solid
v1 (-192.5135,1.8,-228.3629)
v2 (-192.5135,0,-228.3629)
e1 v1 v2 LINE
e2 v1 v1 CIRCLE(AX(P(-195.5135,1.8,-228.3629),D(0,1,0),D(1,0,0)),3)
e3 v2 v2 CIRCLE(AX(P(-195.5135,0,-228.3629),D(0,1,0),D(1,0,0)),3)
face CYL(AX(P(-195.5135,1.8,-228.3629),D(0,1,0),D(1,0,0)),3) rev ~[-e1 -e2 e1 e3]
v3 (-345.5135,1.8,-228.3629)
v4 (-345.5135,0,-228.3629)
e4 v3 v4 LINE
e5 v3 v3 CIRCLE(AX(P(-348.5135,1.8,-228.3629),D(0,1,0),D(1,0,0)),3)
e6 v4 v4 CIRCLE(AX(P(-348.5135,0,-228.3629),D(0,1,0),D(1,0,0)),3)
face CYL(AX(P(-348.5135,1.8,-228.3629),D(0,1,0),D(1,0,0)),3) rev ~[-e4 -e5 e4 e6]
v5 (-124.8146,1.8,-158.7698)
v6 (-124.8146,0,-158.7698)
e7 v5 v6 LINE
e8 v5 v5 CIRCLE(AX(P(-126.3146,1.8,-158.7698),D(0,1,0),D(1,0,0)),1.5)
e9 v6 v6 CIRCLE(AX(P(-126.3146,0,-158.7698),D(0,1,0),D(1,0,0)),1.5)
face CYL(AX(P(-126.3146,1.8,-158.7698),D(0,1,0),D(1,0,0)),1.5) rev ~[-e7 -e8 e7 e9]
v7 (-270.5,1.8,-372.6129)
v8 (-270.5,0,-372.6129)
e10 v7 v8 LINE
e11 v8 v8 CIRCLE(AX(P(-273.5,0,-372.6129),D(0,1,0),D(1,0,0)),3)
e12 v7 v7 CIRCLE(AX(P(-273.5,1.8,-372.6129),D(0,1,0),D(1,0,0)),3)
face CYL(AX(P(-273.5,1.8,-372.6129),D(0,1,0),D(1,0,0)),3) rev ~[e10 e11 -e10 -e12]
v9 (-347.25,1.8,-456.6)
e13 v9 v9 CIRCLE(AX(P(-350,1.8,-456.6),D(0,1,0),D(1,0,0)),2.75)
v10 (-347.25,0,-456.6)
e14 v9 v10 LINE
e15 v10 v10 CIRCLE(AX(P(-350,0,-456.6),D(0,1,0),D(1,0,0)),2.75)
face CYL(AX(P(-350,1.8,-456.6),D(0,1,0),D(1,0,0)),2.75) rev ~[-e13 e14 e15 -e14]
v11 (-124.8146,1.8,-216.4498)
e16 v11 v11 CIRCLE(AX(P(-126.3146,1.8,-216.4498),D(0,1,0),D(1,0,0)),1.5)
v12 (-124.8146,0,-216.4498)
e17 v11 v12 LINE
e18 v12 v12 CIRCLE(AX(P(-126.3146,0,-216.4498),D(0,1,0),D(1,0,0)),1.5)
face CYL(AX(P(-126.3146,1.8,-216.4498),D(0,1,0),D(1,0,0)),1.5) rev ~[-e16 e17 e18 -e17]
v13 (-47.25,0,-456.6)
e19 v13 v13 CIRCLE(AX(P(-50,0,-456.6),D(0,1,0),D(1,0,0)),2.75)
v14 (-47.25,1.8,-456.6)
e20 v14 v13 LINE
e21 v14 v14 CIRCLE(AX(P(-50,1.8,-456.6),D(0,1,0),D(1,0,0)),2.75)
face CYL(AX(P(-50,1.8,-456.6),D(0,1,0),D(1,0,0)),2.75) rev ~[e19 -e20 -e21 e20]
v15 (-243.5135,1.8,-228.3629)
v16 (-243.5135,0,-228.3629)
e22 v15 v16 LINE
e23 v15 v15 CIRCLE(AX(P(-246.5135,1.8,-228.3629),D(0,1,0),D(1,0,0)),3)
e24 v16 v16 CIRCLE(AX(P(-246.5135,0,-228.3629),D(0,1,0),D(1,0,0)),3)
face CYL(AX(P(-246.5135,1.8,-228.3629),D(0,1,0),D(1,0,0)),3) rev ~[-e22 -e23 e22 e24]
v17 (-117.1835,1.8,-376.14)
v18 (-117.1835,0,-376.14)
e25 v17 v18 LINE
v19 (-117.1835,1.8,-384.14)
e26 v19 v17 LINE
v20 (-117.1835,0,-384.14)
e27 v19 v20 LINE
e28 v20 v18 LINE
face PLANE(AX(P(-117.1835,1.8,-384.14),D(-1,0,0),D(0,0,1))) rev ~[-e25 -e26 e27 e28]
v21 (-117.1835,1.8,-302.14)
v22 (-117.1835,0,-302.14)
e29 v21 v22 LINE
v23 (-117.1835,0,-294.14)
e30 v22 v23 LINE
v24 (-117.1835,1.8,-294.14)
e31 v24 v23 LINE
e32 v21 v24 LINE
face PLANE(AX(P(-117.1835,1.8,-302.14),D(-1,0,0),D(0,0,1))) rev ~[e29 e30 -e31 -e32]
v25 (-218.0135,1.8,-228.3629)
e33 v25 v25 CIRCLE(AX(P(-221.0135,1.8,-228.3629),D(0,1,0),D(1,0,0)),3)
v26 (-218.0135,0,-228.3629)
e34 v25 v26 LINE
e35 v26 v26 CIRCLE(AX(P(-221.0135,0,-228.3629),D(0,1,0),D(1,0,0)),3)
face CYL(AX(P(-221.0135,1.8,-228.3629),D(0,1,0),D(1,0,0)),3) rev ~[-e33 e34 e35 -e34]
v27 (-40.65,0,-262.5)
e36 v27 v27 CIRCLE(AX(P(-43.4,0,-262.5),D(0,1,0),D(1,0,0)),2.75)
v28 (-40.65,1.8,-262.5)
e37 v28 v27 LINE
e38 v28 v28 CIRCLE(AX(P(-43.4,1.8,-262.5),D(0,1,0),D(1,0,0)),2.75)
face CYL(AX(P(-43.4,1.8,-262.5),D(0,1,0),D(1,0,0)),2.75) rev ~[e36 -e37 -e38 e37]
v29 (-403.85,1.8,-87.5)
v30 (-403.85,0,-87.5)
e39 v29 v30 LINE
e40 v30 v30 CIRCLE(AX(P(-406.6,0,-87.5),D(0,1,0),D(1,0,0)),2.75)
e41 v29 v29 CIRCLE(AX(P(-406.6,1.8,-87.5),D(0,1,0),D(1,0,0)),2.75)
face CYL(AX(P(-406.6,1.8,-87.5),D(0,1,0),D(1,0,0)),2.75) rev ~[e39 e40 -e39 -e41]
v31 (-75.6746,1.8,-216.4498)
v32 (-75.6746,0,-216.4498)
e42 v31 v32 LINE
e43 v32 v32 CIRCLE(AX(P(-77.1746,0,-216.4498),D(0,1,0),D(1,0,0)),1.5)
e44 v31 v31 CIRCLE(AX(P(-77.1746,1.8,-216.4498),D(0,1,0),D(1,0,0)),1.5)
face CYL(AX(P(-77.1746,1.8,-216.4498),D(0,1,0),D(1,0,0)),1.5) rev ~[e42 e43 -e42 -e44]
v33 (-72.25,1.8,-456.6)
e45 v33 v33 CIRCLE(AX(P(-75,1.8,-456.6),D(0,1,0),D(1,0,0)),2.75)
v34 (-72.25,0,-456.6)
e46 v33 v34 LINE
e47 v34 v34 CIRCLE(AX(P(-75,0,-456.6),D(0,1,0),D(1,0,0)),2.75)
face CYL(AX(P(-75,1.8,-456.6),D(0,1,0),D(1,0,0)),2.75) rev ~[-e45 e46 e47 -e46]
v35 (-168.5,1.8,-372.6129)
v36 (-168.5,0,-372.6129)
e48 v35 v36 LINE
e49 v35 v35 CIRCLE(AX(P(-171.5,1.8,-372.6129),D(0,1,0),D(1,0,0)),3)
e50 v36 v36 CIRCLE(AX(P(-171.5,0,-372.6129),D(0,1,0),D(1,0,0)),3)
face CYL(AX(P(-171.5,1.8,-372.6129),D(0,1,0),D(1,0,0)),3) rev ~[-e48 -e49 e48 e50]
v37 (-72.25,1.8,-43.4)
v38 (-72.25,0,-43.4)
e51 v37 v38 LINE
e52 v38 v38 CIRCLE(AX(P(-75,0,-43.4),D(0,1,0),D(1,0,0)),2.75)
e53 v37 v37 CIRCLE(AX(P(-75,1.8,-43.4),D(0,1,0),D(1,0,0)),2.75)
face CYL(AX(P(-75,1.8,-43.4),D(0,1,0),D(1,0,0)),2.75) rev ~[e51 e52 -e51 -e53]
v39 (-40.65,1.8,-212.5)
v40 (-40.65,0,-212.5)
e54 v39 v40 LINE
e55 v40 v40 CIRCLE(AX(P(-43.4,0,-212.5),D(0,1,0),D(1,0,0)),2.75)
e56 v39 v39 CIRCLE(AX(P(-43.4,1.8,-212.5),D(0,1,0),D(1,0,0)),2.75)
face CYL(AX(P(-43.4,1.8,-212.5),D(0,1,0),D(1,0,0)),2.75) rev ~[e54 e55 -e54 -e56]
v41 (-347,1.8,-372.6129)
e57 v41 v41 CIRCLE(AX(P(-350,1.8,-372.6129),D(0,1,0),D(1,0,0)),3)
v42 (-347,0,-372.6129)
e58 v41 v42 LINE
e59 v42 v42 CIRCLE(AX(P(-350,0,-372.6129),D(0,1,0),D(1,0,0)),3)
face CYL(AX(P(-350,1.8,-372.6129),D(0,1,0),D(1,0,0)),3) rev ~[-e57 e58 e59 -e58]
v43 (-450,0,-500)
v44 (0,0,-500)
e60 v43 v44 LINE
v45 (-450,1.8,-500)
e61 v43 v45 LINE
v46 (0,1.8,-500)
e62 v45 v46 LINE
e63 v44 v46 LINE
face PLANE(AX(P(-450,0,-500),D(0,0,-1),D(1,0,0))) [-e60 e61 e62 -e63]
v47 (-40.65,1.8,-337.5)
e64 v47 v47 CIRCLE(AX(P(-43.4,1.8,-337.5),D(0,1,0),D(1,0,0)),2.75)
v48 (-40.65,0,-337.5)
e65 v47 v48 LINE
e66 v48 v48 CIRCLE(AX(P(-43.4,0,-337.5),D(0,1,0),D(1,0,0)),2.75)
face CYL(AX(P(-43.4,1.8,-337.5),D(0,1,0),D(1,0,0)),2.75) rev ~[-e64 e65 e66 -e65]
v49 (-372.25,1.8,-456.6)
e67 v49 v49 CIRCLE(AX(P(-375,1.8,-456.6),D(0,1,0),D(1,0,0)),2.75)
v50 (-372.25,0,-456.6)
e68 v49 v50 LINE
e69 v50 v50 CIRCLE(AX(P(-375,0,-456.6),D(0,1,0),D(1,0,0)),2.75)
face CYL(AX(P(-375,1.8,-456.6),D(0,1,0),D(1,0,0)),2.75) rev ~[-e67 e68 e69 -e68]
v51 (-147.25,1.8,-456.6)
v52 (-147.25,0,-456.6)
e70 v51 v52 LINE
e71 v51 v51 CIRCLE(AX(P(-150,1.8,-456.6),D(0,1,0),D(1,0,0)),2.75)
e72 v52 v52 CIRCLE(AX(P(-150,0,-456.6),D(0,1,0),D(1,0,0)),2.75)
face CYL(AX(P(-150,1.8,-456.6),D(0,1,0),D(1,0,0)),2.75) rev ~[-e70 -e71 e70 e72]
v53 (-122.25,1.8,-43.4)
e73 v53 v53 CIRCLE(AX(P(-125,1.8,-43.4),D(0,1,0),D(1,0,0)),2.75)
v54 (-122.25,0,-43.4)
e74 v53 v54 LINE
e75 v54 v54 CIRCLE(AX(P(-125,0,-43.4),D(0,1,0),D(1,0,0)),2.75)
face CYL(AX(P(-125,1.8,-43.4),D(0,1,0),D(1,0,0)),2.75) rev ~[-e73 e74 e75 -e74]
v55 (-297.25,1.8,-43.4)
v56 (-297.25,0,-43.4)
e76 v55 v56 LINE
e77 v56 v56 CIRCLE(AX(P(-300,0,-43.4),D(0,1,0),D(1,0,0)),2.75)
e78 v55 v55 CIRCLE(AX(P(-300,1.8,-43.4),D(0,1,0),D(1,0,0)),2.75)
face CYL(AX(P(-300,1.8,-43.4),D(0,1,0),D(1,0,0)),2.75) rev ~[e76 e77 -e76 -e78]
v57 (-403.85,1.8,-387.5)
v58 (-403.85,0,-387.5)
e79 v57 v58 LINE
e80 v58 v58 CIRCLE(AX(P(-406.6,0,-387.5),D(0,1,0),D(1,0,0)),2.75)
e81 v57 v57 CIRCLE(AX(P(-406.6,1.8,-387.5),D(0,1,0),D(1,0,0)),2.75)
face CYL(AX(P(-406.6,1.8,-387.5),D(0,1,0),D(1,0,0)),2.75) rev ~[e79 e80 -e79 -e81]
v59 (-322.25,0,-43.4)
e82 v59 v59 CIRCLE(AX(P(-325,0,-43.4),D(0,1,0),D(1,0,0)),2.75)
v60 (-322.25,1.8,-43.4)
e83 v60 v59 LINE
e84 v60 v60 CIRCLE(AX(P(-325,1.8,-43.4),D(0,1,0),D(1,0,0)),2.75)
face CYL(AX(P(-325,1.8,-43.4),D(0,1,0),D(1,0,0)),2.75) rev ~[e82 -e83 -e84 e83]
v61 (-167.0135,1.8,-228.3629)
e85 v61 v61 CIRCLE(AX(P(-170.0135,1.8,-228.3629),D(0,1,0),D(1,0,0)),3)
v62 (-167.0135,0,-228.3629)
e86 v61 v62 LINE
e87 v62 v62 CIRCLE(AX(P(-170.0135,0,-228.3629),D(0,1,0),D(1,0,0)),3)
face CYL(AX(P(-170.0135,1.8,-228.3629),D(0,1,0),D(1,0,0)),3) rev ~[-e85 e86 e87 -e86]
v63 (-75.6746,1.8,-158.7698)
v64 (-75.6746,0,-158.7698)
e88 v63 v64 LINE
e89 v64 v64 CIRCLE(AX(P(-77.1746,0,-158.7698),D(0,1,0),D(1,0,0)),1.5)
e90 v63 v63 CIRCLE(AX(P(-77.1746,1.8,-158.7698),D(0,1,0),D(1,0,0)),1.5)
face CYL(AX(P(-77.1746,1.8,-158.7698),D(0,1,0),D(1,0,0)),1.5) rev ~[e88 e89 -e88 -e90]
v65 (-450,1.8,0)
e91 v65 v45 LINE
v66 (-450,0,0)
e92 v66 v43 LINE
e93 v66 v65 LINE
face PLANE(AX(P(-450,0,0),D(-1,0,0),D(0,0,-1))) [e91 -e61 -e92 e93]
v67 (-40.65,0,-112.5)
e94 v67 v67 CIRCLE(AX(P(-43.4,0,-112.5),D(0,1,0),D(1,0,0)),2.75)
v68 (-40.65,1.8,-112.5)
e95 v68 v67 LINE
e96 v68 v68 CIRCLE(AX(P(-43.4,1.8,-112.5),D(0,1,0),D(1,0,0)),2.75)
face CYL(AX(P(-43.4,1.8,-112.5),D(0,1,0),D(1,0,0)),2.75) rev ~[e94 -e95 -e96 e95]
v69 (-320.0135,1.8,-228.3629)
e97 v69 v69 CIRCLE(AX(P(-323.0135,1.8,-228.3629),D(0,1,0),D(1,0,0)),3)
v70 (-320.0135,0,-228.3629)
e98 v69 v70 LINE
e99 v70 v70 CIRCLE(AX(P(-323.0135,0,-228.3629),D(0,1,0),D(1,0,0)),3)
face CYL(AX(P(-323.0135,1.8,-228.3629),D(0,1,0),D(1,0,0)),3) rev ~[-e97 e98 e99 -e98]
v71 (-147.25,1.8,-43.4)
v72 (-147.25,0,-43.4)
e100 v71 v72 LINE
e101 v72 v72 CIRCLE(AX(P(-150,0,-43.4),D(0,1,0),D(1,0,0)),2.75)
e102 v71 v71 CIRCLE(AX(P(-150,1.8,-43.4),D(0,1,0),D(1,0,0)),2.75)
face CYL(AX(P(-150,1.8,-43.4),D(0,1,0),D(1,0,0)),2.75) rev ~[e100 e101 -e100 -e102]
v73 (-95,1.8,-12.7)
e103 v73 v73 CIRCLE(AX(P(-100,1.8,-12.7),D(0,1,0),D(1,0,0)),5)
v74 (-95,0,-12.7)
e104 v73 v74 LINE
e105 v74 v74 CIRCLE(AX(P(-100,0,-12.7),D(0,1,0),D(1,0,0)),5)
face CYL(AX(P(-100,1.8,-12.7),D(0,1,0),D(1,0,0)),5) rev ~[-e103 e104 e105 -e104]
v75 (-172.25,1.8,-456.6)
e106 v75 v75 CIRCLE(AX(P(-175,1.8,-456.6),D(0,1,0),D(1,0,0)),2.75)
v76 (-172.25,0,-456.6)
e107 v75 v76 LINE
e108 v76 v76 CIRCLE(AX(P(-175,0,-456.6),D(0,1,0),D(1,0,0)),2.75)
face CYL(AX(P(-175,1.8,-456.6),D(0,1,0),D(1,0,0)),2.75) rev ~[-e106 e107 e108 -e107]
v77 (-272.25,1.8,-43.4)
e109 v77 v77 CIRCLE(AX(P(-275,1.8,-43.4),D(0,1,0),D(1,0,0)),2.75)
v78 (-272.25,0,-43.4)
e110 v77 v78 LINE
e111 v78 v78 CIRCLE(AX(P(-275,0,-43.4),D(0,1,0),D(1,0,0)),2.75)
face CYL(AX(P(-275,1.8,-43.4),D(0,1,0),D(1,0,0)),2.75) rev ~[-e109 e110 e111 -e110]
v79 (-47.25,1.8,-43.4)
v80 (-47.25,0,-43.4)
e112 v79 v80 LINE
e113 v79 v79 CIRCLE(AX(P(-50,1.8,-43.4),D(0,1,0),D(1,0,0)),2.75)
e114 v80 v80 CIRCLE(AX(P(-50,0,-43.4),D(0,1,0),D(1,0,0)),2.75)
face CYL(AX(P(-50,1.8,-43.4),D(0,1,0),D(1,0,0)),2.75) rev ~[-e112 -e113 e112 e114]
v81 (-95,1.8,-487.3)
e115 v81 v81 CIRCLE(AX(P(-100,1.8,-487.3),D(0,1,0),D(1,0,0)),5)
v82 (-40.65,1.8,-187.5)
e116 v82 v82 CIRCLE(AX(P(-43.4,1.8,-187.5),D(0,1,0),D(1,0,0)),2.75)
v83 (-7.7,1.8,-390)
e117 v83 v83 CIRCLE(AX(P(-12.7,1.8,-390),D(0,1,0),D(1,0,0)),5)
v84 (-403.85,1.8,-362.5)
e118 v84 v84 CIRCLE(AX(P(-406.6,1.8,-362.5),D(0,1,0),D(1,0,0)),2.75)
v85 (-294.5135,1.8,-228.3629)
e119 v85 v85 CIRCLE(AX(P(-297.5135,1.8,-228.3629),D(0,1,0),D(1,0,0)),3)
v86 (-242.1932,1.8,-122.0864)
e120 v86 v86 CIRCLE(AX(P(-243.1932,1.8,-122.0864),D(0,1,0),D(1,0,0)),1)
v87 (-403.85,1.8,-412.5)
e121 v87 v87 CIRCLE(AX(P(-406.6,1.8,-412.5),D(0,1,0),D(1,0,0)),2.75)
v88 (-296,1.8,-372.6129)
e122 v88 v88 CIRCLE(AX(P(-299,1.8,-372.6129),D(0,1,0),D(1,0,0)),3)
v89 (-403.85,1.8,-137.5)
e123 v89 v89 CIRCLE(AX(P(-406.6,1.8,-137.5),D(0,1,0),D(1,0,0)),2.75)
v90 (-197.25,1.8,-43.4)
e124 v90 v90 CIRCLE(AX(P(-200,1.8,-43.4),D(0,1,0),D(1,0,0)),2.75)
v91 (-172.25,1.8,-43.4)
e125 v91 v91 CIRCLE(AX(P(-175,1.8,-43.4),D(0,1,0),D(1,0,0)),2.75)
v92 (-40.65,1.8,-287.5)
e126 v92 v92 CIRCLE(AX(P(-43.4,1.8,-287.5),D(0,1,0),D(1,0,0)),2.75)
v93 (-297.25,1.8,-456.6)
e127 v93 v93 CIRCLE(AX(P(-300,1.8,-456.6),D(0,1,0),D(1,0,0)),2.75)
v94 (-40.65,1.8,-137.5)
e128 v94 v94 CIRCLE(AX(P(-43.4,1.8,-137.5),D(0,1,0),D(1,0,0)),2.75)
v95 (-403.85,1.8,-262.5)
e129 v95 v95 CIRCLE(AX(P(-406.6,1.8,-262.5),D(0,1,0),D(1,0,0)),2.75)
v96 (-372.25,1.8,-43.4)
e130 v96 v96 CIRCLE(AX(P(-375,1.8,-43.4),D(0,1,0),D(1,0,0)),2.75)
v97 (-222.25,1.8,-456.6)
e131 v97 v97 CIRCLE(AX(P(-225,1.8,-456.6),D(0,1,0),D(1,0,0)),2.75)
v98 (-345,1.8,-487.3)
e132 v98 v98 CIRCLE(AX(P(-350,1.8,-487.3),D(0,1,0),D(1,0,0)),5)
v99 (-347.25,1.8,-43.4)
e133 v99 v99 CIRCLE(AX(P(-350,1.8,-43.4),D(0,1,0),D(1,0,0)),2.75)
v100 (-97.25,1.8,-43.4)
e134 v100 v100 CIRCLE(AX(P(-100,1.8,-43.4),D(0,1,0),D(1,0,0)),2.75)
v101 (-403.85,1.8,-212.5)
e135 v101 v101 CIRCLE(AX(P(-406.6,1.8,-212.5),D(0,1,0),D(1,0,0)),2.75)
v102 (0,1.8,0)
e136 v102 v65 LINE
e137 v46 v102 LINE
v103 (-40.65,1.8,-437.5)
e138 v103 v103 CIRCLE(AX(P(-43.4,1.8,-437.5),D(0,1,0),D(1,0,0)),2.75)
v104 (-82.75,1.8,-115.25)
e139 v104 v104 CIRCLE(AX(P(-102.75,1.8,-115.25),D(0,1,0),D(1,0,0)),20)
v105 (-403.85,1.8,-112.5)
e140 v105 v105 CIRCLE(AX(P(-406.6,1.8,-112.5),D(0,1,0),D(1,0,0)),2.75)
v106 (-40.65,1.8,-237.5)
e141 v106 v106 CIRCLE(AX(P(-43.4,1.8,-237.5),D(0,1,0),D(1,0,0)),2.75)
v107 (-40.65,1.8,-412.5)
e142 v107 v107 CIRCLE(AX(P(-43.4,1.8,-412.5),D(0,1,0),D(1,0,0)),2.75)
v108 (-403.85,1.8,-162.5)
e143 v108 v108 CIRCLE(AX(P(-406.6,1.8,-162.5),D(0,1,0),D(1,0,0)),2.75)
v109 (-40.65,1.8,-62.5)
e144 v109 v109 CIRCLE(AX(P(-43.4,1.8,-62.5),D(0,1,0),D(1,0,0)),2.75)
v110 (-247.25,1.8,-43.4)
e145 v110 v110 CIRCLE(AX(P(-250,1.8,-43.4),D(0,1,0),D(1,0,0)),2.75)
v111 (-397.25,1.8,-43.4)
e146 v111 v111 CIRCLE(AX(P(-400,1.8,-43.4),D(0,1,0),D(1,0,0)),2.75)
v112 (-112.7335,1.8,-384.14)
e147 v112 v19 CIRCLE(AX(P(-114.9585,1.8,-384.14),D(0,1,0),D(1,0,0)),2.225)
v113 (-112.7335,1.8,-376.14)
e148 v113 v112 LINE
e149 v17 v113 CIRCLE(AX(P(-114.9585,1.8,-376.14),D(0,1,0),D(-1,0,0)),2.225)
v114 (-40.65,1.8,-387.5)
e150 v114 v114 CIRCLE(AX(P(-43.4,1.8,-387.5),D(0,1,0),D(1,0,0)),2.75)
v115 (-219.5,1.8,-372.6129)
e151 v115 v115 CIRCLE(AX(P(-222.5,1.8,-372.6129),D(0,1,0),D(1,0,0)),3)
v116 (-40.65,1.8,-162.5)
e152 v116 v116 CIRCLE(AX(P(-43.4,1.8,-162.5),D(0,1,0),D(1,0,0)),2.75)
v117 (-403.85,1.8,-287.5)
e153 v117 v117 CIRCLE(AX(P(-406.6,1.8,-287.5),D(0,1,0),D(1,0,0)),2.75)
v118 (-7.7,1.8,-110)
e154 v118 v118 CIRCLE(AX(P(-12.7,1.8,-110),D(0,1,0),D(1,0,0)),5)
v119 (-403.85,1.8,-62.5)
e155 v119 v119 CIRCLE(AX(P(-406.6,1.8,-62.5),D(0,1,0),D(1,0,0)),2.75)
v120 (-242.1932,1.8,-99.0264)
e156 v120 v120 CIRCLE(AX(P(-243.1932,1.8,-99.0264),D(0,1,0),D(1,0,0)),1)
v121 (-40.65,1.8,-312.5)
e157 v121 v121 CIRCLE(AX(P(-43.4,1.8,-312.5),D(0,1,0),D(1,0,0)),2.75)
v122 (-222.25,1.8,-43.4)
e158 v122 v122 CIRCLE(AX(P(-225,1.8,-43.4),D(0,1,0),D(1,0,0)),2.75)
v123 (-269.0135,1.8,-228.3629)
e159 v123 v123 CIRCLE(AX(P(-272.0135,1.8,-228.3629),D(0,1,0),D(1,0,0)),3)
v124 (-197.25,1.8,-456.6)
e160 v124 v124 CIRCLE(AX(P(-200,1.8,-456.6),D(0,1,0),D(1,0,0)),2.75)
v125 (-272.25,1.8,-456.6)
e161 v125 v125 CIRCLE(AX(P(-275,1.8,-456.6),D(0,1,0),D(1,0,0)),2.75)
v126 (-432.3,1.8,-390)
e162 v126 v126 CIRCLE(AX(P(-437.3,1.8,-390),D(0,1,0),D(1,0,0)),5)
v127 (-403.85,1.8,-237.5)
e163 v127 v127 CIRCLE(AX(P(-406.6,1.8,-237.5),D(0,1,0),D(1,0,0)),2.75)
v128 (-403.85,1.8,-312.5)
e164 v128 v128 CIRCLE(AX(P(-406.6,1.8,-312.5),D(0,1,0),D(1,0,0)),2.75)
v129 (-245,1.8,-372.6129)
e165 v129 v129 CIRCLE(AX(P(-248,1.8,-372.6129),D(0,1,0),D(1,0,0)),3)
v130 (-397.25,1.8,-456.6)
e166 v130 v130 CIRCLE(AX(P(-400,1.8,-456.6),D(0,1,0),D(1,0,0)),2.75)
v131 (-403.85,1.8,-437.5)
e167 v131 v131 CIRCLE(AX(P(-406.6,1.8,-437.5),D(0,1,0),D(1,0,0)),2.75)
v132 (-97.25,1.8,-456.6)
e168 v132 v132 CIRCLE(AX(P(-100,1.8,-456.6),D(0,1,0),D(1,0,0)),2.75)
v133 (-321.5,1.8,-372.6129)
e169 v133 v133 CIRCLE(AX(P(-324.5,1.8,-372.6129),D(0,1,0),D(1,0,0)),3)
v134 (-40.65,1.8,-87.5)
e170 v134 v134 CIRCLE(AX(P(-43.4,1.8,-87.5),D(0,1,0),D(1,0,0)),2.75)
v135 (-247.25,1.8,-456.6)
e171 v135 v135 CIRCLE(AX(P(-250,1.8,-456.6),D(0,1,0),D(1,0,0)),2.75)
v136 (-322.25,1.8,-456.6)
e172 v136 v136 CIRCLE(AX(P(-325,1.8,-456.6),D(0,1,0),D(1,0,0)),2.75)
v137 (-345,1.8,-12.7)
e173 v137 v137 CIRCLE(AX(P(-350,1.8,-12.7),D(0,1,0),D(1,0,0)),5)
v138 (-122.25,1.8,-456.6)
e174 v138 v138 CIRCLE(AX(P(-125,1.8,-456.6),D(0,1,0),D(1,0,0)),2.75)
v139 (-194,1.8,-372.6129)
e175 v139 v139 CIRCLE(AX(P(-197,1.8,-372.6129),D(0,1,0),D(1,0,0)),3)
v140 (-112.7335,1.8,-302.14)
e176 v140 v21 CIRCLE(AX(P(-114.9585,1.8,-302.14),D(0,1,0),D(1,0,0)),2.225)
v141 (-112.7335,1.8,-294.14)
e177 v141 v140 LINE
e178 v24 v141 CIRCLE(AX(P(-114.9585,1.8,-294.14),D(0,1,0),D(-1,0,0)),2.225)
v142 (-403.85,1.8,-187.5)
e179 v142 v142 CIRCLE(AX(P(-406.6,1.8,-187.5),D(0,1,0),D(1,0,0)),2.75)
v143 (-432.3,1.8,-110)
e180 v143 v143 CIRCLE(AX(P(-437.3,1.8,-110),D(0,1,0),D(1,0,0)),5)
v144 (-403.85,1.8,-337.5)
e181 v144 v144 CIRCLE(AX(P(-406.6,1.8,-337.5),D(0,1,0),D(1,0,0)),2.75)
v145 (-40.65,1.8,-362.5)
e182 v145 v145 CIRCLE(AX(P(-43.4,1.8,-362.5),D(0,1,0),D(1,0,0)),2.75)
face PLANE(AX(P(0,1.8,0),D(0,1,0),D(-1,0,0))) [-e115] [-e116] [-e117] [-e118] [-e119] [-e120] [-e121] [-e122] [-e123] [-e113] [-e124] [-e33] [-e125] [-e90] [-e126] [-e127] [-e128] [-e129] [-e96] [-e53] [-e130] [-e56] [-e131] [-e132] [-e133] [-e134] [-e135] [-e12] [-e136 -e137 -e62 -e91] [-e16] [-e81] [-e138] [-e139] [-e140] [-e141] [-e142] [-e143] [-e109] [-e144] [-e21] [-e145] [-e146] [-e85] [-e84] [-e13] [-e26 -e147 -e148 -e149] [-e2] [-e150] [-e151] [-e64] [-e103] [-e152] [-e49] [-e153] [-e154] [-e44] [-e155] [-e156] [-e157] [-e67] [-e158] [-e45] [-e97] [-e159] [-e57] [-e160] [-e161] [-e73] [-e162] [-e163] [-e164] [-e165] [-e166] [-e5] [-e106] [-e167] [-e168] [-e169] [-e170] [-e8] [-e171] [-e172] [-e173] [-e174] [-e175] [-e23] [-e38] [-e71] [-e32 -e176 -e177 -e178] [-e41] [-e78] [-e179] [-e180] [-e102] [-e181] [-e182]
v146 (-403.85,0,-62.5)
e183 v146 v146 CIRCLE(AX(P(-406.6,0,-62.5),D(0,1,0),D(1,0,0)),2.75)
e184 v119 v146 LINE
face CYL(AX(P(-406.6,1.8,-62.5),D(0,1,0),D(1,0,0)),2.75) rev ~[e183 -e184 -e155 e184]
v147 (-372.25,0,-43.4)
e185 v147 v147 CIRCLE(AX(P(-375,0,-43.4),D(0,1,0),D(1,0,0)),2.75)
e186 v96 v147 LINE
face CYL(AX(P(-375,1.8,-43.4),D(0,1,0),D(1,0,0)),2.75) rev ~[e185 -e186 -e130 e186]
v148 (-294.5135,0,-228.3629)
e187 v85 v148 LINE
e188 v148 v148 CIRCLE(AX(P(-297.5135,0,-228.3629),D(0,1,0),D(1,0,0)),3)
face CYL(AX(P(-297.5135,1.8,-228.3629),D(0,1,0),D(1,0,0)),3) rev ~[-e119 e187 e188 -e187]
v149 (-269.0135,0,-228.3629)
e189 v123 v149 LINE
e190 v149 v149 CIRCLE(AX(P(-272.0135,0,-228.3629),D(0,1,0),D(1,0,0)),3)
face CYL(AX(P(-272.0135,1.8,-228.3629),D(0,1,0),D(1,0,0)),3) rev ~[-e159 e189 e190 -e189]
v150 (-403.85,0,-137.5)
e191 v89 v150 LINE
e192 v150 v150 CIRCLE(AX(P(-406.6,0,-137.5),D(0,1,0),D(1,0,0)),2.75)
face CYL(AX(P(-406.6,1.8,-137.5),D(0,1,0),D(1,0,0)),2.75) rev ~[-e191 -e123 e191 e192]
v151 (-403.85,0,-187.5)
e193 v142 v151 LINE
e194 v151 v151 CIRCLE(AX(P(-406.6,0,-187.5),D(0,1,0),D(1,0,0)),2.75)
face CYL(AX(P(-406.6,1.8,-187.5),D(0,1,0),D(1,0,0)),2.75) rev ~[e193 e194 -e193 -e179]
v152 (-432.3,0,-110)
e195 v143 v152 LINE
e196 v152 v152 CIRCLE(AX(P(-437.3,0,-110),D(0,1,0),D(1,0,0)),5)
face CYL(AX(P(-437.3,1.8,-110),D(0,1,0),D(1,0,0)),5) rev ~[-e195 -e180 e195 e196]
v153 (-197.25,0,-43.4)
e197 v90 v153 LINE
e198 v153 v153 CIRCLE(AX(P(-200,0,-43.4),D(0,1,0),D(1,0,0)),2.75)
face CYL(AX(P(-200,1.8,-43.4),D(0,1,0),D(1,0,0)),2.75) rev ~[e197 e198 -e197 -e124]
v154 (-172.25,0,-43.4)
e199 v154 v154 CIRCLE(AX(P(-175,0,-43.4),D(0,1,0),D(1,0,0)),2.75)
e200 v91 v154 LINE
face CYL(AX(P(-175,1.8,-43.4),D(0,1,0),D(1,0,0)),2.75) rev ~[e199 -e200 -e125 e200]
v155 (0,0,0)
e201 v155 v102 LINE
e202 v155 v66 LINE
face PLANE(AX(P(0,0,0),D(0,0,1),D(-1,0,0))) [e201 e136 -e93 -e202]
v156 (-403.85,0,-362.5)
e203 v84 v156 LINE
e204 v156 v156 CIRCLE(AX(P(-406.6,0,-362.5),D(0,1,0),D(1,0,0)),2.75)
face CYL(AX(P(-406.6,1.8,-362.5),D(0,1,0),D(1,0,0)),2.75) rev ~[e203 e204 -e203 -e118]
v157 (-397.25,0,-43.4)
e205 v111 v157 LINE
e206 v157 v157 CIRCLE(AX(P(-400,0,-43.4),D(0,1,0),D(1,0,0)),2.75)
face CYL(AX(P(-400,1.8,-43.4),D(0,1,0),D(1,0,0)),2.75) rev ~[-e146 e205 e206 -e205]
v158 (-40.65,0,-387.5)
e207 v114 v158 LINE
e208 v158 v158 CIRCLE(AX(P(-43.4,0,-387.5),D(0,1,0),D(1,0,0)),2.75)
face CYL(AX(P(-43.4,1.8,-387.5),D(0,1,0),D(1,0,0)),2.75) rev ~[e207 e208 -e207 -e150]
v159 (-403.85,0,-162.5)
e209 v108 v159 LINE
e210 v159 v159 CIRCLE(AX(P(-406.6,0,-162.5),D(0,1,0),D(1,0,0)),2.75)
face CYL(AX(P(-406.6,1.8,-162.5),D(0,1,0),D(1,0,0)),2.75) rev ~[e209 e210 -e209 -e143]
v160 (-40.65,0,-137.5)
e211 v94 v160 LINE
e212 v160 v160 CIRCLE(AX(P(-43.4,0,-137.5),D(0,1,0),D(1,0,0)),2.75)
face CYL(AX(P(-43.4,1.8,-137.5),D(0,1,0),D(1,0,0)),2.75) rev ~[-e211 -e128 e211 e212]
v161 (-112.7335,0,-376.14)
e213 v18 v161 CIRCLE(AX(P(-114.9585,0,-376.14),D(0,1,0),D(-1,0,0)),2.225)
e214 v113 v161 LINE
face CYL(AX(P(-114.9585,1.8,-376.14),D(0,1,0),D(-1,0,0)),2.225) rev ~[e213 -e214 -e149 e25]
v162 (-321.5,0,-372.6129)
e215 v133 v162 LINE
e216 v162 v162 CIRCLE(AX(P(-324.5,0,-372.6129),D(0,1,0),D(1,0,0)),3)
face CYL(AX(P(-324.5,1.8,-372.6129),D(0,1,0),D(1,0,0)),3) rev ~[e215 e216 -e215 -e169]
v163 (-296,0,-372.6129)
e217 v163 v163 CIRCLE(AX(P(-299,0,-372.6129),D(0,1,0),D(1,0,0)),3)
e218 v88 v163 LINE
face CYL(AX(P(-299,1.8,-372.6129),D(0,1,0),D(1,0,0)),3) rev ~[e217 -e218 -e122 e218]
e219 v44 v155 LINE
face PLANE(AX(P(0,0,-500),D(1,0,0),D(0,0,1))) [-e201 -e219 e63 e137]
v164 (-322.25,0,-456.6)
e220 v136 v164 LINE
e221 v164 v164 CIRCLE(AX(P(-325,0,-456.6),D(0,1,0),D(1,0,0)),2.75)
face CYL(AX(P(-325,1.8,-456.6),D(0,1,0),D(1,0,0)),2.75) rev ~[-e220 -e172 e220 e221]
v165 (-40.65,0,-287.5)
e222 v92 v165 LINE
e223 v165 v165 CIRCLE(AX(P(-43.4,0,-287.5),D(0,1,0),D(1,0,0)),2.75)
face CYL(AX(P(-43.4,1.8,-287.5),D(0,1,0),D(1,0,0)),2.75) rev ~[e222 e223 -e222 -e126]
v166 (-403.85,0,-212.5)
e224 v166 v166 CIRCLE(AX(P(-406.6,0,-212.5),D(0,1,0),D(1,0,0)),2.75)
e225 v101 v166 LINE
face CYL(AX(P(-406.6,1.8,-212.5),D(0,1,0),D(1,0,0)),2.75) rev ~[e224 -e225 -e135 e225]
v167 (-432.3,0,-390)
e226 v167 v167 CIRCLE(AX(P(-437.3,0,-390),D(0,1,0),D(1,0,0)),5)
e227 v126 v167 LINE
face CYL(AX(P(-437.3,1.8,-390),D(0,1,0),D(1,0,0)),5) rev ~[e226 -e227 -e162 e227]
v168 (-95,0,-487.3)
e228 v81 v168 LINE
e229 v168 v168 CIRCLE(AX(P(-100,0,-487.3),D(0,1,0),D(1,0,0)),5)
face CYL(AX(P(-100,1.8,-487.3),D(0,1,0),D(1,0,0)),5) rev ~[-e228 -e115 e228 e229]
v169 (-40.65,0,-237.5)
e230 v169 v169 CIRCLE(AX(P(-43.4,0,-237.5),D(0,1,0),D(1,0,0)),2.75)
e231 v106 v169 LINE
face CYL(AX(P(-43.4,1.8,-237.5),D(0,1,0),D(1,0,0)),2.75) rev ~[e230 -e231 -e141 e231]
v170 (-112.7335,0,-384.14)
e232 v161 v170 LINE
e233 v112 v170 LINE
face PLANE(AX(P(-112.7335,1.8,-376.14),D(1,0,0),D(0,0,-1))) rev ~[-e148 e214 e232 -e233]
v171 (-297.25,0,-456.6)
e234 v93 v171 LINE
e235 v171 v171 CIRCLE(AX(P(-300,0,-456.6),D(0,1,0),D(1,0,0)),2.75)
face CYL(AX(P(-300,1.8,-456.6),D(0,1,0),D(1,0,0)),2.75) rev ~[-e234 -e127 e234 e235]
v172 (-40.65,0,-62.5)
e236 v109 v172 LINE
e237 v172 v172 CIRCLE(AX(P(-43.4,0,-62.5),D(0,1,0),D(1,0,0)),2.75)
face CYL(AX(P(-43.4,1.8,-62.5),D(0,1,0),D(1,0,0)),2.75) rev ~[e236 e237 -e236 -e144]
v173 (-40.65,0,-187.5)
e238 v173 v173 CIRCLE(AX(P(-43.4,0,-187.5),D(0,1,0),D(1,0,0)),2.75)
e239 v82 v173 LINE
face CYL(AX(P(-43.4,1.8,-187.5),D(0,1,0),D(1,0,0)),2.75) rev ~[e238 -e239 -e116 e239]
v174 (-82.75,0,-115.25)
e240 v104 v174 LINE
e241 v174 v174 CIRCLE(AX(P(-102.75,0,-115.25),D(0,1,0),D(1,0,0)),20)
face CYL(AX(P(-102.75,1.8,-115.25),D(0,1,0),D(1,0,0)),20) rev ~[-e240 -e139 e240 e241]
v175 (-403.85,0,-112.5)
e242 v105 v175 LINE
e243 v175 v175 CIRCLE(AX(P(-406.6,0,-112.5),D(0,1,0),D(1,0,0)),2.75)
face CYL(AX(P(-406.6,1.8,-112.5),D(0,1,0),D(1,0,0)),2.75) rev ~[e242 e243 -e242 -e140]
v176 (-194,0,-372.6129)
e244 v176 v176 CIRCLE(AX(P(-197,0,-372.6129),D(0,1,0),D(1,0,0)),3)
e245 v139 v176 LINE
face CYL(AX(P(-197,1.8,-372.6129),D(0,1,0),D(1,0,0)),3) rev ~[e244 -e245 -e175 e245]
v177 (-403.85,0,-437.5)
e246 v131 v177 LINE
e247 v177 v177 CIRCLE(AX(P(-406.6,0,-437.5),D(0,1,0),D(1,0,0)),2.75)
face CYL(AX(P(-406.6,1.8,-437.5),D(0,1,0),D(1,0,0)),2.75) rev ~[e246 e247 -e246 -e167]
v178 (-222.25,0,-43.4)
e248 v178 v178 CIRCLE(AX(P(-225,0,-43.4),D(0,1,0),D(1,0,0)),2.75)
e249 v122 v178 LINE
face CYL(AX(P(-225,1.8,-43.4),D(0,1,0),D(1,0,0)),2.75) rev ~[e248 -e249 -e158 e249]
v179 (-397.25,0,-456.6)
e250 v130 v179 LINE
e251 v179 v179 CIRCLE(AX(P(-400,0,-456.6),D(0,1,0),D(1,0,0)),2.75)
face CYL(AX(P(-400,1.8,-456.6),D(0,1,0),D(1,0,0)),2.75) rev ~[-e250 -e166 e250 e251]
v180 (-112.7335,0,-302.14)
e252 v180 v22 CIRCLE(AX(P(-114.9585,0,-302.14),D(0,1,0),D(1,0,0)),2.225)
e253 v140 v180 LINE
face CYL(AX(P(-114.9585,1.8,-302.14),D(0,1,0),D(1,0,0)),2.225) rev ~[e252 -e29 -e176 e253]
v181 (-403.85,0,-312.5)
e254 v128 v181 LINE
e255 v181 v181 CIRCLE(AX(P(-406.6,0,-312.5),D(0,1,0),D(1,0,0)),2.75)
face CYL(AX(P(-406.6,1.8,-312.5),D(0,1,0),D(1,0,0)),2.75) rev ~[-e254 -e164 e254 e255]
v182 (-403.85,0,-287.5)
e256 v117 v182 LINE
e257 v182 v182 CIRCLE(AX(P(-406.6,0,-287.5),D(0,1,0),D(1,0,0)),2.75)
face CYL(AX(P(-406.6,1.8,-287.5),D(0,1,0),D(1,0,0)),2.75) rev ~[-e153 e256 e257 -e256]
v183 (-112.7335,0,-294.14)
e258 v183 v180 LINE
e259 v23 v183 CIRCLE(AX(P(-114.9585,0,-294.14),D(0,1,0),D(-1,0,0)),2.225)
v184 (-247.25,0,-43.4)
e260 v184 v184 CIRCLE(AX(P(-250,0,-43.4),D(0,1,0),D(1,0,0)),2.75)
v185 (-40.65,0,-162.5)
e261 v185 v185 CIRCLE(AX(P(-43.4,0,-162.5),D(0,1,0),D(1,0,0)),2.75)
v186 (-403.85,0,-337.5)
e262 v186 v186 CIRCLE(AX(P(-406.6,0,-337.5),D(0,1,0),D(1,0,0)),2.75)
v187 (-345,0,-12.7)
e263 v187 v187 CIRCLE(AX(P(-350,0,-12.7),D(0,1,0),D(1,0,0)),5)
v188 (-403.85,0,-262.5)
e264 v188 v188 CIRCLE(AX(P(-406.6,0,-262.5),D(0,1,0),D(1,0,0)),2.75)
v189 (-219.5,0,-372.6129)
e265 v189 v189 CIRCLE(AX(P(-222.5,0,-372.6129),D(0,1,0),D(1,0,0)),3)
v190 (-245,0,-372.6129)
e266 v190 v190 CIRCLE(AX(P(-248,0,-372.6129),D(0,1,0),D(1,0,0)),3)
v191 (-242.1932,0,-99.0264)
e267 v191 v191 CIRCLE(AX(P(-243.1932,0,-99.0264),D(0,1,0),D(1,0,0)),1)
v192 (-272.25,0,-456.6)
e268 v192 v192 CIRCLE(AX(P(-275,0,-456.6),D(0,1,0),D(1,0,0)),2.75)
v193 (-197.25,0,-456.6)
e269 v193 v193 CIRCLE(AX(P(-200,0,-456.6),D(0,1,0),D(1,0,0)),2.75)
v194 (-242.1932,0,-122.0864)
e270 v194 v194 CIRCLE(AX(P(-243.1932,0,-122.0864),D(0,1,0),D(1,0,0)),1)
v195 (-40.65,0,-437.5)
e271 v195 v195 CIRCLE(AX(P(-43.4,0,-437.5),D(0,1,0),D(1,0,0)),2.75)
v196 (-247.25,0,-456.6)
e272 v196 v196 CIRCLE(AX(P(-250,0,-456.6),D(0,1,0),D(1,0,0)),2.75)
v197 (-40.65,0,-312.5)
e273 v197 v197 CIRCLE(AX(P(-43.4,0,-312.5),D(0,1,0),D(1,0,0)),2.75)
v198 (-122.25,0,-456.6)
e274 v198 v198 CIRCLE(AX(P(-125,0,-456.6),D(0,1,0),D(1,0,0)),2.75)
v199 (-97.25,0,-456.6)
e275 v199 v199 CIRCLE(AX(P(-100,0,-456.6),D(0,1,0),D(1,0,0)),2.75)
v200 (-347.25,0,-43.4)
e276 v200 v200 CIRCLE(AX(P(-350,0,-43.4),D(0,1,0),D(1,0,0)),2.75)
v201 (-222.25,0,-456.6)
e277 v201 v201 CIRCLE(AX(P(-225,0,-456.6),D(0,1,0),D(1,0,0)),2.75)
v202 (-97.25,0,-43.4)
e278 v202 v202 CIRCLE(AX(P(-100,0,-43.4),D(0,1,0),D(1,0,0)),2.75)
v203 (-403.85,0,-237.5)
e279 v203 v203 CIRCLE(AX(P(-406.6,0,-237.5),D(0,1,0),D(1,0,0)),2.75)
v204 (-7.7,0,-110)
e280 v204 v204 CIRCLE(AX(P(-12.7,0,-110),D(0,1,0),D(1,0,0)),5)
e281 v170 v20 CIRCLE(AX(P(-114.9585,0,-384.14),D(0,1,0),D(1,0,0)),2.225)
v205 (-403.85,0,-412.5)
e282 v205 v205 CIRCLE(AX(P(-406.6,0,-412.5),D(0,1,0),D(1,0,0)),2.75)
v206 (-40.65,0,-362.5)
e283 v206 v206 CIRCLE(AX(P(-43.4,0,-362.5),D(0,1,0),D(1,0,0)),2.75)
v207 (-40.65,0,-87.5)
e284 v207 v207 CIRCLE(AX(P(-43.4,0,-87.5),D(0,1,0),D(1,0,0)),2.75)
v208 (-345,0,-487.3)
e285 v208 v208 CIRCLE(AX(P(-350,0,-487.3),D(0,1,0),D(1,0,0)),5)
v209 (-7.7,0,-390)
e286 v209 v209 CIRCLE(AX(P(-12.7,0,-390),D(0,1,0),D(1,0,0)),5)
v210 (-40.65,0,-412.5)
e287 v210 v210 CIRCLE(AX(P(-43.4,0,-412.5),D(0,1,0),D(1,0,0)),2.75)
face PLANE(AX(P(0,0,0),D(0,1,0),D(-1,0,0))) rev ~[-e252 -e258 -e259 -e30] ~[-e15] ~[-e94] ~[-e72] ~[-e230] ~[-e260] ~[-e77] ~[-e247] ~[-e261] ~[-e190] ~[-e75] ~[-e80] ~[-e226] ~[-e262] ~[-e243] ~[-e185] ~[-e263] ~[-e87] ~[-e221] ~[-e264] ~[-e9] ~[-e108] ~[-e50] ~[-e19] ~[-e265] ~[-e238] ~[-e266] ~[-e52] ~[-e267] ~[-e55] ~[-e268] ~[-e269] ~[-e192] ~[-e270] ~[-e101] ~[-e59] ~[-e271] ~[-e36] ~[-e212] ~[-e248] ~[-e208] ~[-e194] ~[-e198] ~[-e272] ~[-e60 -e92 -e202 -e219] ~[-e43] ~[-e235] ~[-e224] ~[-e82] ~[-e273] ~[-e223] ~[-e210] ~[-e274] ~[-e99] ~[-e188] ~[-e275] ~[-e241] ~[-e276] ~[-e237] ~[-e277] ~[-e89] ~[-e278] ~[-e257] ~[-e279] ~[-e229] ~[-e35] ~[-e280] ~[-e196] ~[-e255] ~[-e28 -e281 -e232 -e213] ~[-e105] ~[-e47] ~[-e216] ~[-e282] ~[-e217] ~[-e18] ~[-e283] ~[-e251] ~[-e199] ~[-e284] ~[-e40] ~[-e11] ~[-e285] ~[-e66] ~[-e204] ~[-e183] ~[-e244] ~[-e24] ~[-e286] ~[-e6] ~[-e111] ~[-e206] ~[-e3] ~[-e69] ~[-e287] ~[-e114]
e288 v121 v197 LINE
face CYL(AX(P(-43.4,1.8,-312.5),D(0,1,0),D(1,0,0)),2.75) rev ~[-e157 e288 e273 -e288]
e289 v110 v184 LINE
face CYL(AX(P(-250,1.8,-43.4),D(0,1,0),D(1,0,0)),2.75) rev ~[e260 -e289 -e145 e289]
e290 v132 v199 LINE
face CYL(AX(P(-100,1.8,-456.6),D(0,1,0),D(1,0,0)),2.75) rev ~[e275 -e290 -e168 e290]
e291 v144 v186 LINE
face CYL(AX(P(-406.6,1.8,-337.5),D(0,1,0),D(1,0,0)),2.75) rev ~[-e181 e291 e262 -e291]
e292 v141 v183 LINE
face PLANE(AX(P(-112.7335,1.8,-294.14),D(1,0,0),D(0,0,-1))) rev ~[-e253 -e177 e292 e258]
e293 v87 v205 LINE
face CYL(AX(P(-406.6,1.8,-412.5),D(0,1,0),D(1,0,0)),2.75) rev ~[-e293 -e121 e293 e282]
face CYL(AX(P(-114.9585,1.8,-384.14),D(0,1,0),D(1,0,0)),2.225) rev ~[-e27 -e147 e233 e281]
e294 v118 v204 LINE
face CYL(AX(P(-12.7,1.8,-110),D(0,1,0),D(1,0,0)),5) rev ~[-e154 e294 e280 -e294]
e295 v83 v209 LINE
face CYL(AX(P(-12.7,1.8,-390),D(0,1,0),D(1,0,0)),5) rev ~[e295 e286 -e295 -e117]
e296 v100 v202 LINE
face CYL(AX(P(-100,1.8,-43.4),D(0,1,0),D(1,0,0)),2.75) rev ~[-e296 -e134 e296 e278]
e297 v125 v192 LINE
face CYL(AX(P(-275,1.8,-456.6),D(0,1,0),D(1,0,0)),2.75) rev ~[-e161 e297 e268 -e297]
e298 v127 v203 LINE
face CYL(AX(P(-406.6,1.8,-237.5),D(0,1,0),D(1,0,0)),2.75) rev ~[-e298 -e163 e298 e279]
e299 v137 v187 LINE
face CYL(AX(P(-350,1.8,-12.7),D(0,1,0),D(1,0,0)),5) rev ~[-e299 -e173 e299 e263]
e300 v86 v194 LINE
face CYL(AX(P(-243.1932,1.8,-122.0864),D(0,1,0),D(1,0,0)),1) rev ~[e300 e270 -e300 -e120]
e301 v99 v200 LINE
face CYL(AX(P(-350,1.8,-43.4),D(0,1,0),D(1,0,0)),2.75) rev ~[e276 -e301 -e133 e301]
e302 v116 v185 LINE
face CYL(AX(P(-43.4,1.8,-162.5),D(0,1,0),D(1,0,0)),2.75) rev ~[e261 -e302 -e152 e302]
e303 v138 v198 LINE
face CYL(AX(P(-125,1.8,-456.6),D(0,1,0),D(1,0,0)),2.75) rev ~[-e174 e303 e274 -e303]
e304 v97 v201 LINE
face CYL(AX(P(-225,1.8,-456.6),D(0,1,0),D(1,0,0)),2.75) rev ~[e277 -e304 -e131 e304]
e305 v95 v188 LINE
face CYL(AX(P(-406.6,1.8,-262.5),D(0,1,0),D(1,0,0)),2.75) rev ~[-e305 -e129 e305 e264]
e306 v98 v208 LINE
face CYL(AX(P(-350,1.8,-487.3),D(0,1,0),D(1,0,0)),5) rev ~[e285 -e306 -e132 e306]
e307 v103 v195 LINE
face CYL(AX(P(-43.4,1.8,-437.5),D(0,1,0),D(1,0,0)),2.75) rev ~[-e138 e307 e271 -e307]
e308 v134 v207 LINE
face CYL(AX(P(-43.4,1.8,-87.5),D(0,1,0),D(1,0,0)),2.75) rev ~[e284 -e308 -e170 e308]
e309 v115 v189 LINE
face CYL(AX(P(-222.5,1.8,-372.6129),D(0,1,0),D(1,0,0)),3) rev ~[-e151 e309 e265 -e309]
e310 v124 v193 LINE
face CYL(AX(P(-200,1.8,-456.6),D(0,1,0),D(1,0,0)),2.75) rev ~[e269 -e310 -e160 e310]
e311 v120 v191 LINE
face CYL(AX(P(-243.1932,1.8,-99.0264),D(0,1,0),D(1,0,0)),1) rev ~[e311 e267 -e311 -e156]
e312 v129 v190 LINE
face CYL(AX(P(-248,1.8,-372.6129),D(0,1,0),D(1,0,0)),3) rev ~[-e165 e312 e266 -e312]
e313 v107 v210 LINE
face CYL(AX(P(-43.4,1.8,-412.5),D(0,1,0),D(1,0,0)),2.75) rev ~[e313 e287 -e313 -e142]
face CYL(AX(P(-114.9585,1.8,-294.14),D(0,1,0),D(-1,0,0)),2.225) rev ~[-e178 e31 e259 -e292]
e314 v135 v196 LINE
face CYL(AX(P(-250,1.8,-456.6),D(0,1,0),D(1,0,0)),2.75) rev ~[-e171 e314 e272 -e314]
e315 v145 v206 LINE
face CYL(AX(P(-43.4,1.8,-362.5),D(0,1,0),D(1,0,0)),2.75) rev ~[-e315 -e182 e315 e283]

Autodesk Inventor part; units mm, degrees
ref_plane "YZ Plane" through (0, 0, 0) normal (1, 0, 0) x (0, 1, 0)
ref_plane "XZ Plane" through (0, 0, 0) normal (0, 1, 0) x (-1, 0, 0)
ref_plane "XY Plane" through (0, 0, 0) normal (0, 0, 1) x (1, 0, 0)
sketch "Boceto1" plane through (0, 0, 0) normal (0, 1, 0) x (-1, 0, 0)
  line L0 (0, 0) -> (450, 0)
  line L1 (450, 0) -> (450, -500)
  line L2 (450, -500) -> (0, -500)
  line L3 (0, -500) -> (0, 0)
  dimension "d0" = 450
  dimension "d1" = 500
extrude "Extrusión1" add sketch "Boceto1" along normal blind 1.8
sketch "Boceto2" plane through (0, 1.8, 0) normal (0, 1, 0) x (1, 0, 0)
  line L0 (-450, 500) -> (-450, 0) projected
  line L1 (-450, 0) -> (0, 0) projected
  line L2 (-450, 0) -> (-450, 359)
  line L3 (0, 500) -> (-450, 500) projected
  line L4 (0, 0) -> (0, 500) projected
  line L5 (-348.5135, 228.3629) -> (-148.5135, 228.3629) construction
  circle A0 centre (-348.5135, 228.3629) radius 3
  circle A1 centre (-323.0135, 228.3629) radius 3
  circle A2 centre (-297.5135, 228.3629) radius 3
  circle A3 centre (-272.0135, 228.3629) radius 3
  circle A4 centre (-246.5135, 228.3629) radius 3
  circle A5 centre (-221.0135, 228.3629) radius 3
  circle A6 centre (-195.5135, 228.3629) radius 3
  circle A7 centre (-170.0135, 228.3629) radius 3
  line L6 (-345.4268, 372.6129) -> (-145.4268, 372.6129) construction
  circle A8 centre (-350, 372.6129) radius 3
  circle A9 centre (-324.5, 372.6129) radius 3
  circle A10 centre (-299, 372.6129) radius 3
  circle A11 centre (-273.5, 372.6129) radius 3
  circle A12 centre (-248, 372.6129) radius 3
  circle A13 centre (-222.5, 372.6129) radius 3
  circle A14 centre (-197, 372.6129) radius 3
  circle A15 centre (-171.5, 372.6129) radius 3
  line L7 (-400, 43.4) -> (-43, 43.4) construction
  circle A16 centre (-400, 43.4) radius 2.75
  circle A17 centre (-375, 43.4) radius 2.75
  circle A18 centre (-350, 43.4) radius 2.75
  circle A19 centre (-325, 43.4) radius 2.75
  circle A20 centre (-300, 43.4) radius 2.75
  circle A21 centre (-275, 43.4) radius 2.75
  circle A22 centre (-250, 43.4) radius 2.75
  circle A23 centre (-225, 43.4) radius 2.75
  circle A24 centre (-200, 43.4) radius 2.75
  circle A25 centre (-175, 43.4) radius 2.75
  circle A26 centre (-150, 43.4) radius 2.75
  circle A27 centre (-125, 43.4) radius 2.75
  circle A28 centre (-100, 43.4) radius 2.75
  circle A29 centre (-75, 43.4) radius 2.75
  circle A30 centre (-50, 43.4) radius 2.75
  line L8 (-406.6, 44.1958) -> (-406.6, 451.7958) construction
  circle A31 centre (-406.6, 62.5) radius 2.75
  circle A32 centre (-406.6, 87.5) radius 2.75
  circle A33 centre (-406.6, 112.5) radius 2.75
  circle A34 centre (-406.6, 137.5) radius 2.75
  circle A35 centre (-406.6, 162.5) radius 2.75
  circle A36 centre (-406.6, 187.5) radius 2.75
  circle A37 centre (-406.6, 212.5) radius 2.75
  circle A38 centre (-406.6, 237.5) radius 2.75
  circle A39 centre (-406.6, 262.5) radius 2.75
  circle A40 centre (-406.6, 287.5) radius 2.75
  circle A41 centre (-406.6, 312.5) radius 2.75
  circle A42 centre (-406.6, 337.5) radius 2.75
  circle A43 centre (-406.6, 362.5) radius 2.75
  circle A44 centre (-406.6, 387.5) radius 2.75
  circle A45 centre (-406.6, 412.5) radius 2.75
  circle A46 centre (-406.6, 437.5) radius 2.75
  line L9 (-406.6, 456.6) -> (-38, 456.6) construction
  circle A47 centre (-43.4, 62.5) radius 2.75
  circle A48 centre (-43.4, 87.5) radius 2.75
  circle A49 centre (-43.4, 112.5) radius 2.75
  circle A50 centre (-43.4, 137.5) radius 2.75
  circle A51 centre (-43.4, 162.5) radius 2.75
  circle A52 centre (-43.4, 187.5) radius 2.75
  circle A53 centre (-43.4, 212.5) radius 2.75
  circle A54 centre (-43.4, 237.5) radius 2.75
  circle A55 centre (-43.4, 262.5) radius 2.75
  circle A56 centre (-43.4, 287.5) radius 2.75
  circle A57 centre (-43.4, 312.5) radius 2.75
  circle A58 centre (-43.4, 337.5) radius 2.75
  circle A59 centre (-43.4, 362.5) radius 2.75
  circle A60 centre (-43.4, 387.5) radius 2.75
  circle A61 centre (-43.4, 412.5) radius 2.75
  circle A62 centre (-43.4, 437.5) radius 2.75
  line L10 (-400, 456.6) -> (-43, 456.6) construction
  circle A63 centre (-400, 456.6) radius 2.75
  circle A64 centre (-375, 456.6) radius 2.75
  circle A65 centre (-350, 456.6) radius 2.75
  circle A66 centre (-325, 456.6) radius 2.75
  circle A67 centre (-300, 456.6) radius 2.75
  circle A68 centre (-275, 456.6) radius 2.75
  circle A69 centre (-250, 456.6) radius 2.75
  circle A70 centre (-225, 456.6) radius 2.75
  circle A71 centre (-200, 456.6) radius 2.75
  circle A72 centre (-175, 456.6) radius 2.75
  circle A73 centre (-150, 456.6) radius 2.75
  circle A74 centre (-125, 456.6) radius 2.75
  circle A75 centre (-100, 456.6) radius 2.75
  circle A76 centre (-75, 456.6) radius 2.75
  circle A77 centre (-50, 456.6) radius 2.75
  arc A78 (-112.7335, 384.14) -> (-117.1835, 384.14) centre (-114.9585, 384.14) ccw
  arc A79 (-117.1835, 294.14) -> (-112.7335, 294.14) centre (-114.9585, 294.14) ccw
  arc A80 (-117.1835, 376.14) -> (-112.7335, 376.14) centre (-114.9585, 376.14) ccw
  arc A81 (-112.7335, 302.14) -> (-117.1835, 302.14) centre (-114.9585, 302.14) ccw
  line L11 (-117.1835, 384.14) -> (-117.1835, 376.14)
  line L12 (-112.7335, 376.14) -> (-112.7335, 384.14)
  line L13 (-117.1835, 302.14) -> (-117.1835, 294.14)
  line L14 (-112.7335, 294.14) -> (-112.7335, 302.14)
  circle A82 centre (-126.3146, 216.4498) radius 1.5
  circle A83 centre (-77.1746, 216.4498) radius 1.5
  circle A84 centre (-126.3146, 158.7698) radius 1.5
  circle A85 centre (-77.1746, 158.7698) radius 1.5
  circle A86 centre (-243.1932, 122.0864) radius 1
  circle A87 centre (-243.1932, 99.0264) radius 1
  circle A88 centre (-102.75, 115.25) radius 20
  circle A89 centre (-350, 487.3) radius 5
  circle A90 centre (-100, 487.3) radius 5
  circle A91 centre (-350, 12.7) radius 5
  circle A92 centre (-100, 12.7) radius 5
  circle A93 centre (-437.3, 390) radius 5
  circle A94 centre (-437.3, 110) radius 5
  circle A95 centre (-12.7, 390) radius 5
  circle A96 centre (-12.7, 110) radius 5
  point P0 (-43.4, 451.7958)
  point P1 (-406.6, 455.8042)
  dimension "d16" = 25.5
  dimension "d30" = 25.5
  dimension "d41" = 5.5
  dimension "d44" = 25
  dimension "d50" = 5.5
  dimension "d54" = 25
  dimension "d65" = 144.25
  dimension "d85" = 4.45
  dimension "d89" = 4.45
  dimension "d92" = 4.45
  dimension "d93" = 90
  dimension "d94" = 4.45
  dimension "d95" = 8
  dimension "d96" = 8
  dimension "d97" = 3
  dimension "d98" = 3
  dimension "d99" = 49.14
  dimension "d100" = 3
  dimension "d101" = 57.68
  dimension "d102" = 3
  dimension "d103" = 2
  dimension "d104" = 2
  dimension "d105" = 23.06
  dimension "d106" = 40
  dimension "d113" = 10
  dimension "d114" = 10
  dimension "d115" = 10
  dimension "d116" = 10
  dimension "d117" = 10
  dimension "d118" = 10
  dimension "d119" = 10
  dimension "d120" = 10
  dimension "d121" = 12.7
  dimension "d122" = 12.7
  dimension "d123" = 12.7
  dimension "d124" = 12.7
  dimension "d125" = 12.7
  dimension "d126" = 12.7
  dimension "d127" = 12.7
  dimension "d128" = 12.7
  dimension "d129" = 110
  dimension "d130" = 110
  dimension "d131" = 110
  dimension "d132" = 110
  dimension "d133" = 100
  dimension "d134" = 100
  dimension "d135" = 100
  dimension "d136" = 100
extrude "Extrusión2" cut sketch "Boceto2" against normal blind 25 contours A0 | A1 | A2 | A3 | A4 | A5 | A6 | A7 | A8 | A9 | A10 | A11 | A12 | A13 | A14 | A15 | A16 | A17 | A18 | A19 | A20 | A21 | A22 | A23 | A24 | A25 | A26 | A27 | A28 | A29 | A30 | A31 | A32 | A33 | A34 | A35 | A36 | A37 | A38 | A39 | A40 | A41 | A42 | A43 | A44 | A45 | A46 | A47 | A48 | A49 | A50 | A51 | A52 | A53 | A54 | A55 | A56 | A57 | A58 | A59 | A60 | A61 | A62 | A63 | A64 | A65 | A66 | A67 | A68 | A69 | A70 | A71 | A72 | A73 | A74 | A75 | A76 | A77 | L12 A80 L11 A78 | L13 A81 L14 A79 | A82 | A83 | A84 | A85 | A86 | A87 | A88 | A89 | A90 | A91 | A92 | A93 | A94 | A95 | A96
sketch "Sketch5" plane through (0, 1.8, 0) normal (0, 1, 0) x (1, 0, 0)
  circle A0 centre (-12.7, 110) radius 5 projected
  circle A1 centre (-350, 487.3) radius 5 projected
  circle A2 centre (-243.1932, 122.0864) radius 1 projected
  circle A3 centre (-77.1746, 216.4498) radius 1.5 projected
  circle A4 centre (-406.6, 412.5) radius 2.75 projected
  circle A5 centre (-43.4, 362.5) radius 2.75 projected
  circle A6 centre (-43.4, 262.5) radius 2.75 projected
  circle A7 centre (-43.4, 162.5) radius 2.75 projected
  circle A8 centre (-43.4, 62.5) radius 2.75 projected
  circle A9 centre (-125, 43.4) radius 2.75 projected
  circle A10 centre (-225, 43.4) radius 2.75 projected
  circle A11 centre (-325, 43.4) radius 2.75 projected
  circle A12 centre (-221.0135, 228.3629) radius 3 projected
  circle A13 centre (-323.0135, 228.3629) radius 3 projected
  circle A14 centre (-299, 372.6129) radius 3 projected
  circle A15 centre (-197, 372.6129) radius 3 projected
  circle A16 centre (-406.6, 62.5) radius 2.75 projected
  circle A17 centre (-406.6, 162.5) radius 2.75 projected
  circle A18 centre (-406.6, 262.5) radius 2.75 projected
  circle A19 centre (-43.4, 437.5) radius 2.75 projected
  circle A20 centre (-100, 456.6) radius 2.75 projected
  circle A21 centre (-200, 456.6) radius 2.75 projected
  circle A22 centre (-300, 456.6) radius 2.75 projected
  circle A23 centre (-400, 456.6) radius 2.75 projected
  circle A24 centre (-325, 456.6) radius 2.75 projected
  circle A25 centre (-225, 456.6) radius 2.75 projected
  circle A26 centre (-125, 456.6) radius 2.75 projected
  circle A27 centre (-43.4, 412.5) radius 2.75 projected
  circle A28 centre (-406.6, 287.5) radius 2.75 projected
  circle A29 centre (-406.6, 187.5) radius 2.75 projected
  circle A30 centre (-406.6, 87.5) radius 2.75 projected
  circle A31 centre (-171.5, 372.6129) radius 3 projected
  circle A32 centre (-273.5, 372.6129) radius 3 projected
  circle A33 centre (-348.5135, 228.3629) radius 3 projected
  circle A34 centre (-246.5135, 228.3629) radius 3 projected
  circle A35 centre (-350, 43.4) radius 2.75 projected
  circle A36 centre (-250, 43.4) radius 2.75 projected
  circle A37 centre (-150, 43.4) radius 2.75 projected
  circle A38 centre (-50, 43.4) radius 2.75 projected
  circle A39 centre (-43.4, 137.5) radius 2.75 projected
  circle A40 centre (-43.4, 237.5) radius 2.75 projected
  circle A41 centre (-43.4, 337.5) radius 2.75 projected
  circle A42 centre (-406.6, 387.5) radius 2.75 projected
  arc A43 (-112.7335, 302.14) -> (-117.1835, 302.14) centre (-114.9585, 302.14) ccw projected
  line L0 (-112.7335, 302.14) -> (-112.7335, 294.14) projected
  arc A44 (-117.1835, 294.14) -> (-112.7335, 294.14) centre (-114.9585, 294.14) ccw projected
  line L1 (-117.1835, 294.14) -> (-117.1835, 302.14) projected
  circle A45 centre (-126.3146, 158.7698) radius 1.5 projected
  circle A46 centre (-437.3, 110) radius 5 projected
  circle A47 centre (-12.7, 390) radius 5 projected
  circle A48 centre (-100, 12.7) radius 5 projected
  circle A49 centre (-437.3, 390) radius 5 projected
  circle A50 centre (-243.1932, 99.0264) radius 1 projected
  circle A51 centre (-126.3146, 216.4498) radius 1.5 projected
  circle A52 centre (-406.6, 437.5) radius 2.75 projected
  circle A53 centre (-406.6, 337.5) radius 2.75 projected
  circle A54 centre (-43.4, 287.5) radius 2.75 projected
  circle A55 centre (-43.4, 187.5) radius 2.75 projected
  circle A56 centre (-43.4, 87.5) radius 2.75 projected
  circle A57 centre (-100, 43.4) radius 2.75 projected
  circle A58 centre (-200, 43.4) radius 2.75 projected
  circle A59 centre (-300, 43.4) radius 2.75 projected
  circle A60 centre (-195.5135, 228.3629) radius 3 projected
  circle A61 centre (-297.5135, 228.3629) radius 3 projected
  circle A62 centre (-324.5, 372.6129) radius 3 projected
  circle A63 centre (-222.5, 372.6129) radius 3 projected
  circle A64 centre (-375, 43.4) radius 2.75 projected
  circle A65 centre (-406.6, 137.5) radius 2.75 projected
  circle A66 centre (-406.6, 237.5) radius 2.75 projected
  circle A67 centre (-50, 456.6) radius 2.75 projected
  circle A68 centre (-75, 456.6) radius 2.75 projected
  circle A69 centre (-175, 456.6) radius 2.75 projected
  circle A70 centre (-275, 456.6) radius 2.75 projected
  circle A71 centre (-375, 456.6) radius 2.75 projected
  circle A72 centre (-350, 456.6) radius 2.75 projected
  circle A73 centre (-250, 456.6) radius 2.75 projected
  circle A74 centre (-150, 456.6) radius 2.75 projected
  circle A75 centre (-43.4, 387.5) radius 2.75 projected
  circle A76 centre (-406.6, 312.5) radius 2.75 projected
  circle A77 centre (-406.6, 212.5) radius 2.75 projected
  circle A78 centre (-406.6, 112.5) radius 2.75 projected
  circle A79 centre (-400, 43.4) radius 2.75 projected
  circle A80 centre (-248, 372.6129) radius 3 projected
  circle A81 centre (-350, 372.6129) radius 3 projected
  circle A82 centre (-272.0135, 228.3629) radius 3 projected
  circle A83 centre (-170.0135, 228.3629) radius 3 projected
  circle A84 centre (-275, 43.4) radius 2.75 projected
  circle A85 centre (-175, 43.4) radius 2.75 projected
  circle A86 centre (-75, 43.4) radius 2.75 projected
  circle A87 centre (-43.4, 112.5) radius 2.75 projected
  circle A88 centre (-43.4, 212.5) radius 2.75 projected
  circle A89 centre (-43.4, 312.5) radius 2.75 projected
  circle A90 centre (-406.6, 362.5) radius 2.75 projected
  arc A91 (-117.1835, 376.14) -> (-112.7335, 376.14) centre (-114.9585, 376.14) ccw projected
  line L2 (-117.1835, 376.14) -> (-117.1835, 384.14) projected
  arc A92 (-112.7335, 384.14) -> (-117.1835, 384.14) centre (-114.9585, 384.14) ccw projected
  line L3 (-112.7335, 384.14) -> (-112.7335, 376.14) projected
  circle A93 centre (-77.1746, 158.7698) radius 1.5 projected
  circle A94 centre (-102.75, 115.25) radius 20 projected
  circle A95 centre (-100, 487.3) radius 5 projected
  circle A96 centre (-350, 12.7) radius 5 projected
  line L4 (0, 500) -> (-450, 500) projected
  line L5 (-450, 500) -> (-450, 0) projected
  line L6 (-450, 0) -> (0, 0) projected
  line L7 (0, 0) -> (0, 500) projected
  line L8 (-450, 25.4) -> (-424.6, 25.4)
  line L9 (-450, 474.6) -> (-424.6, 474.6)
  line L10 (0, 474.6) -> (-25.4, 474.6)
  line L11 (0, 25.4) -> (-25.4, 25.4)
  point P0 (-12.7, 474.6)
  dimension "d137" = 25.4
  dimension "d138" = 25.4
  dimension "d139" = 25.4
  dimension "d140" = 25.4
  dimension "d141" = 25.4
  dimension "d142" = 25.4
properties part number "placa_dany"
